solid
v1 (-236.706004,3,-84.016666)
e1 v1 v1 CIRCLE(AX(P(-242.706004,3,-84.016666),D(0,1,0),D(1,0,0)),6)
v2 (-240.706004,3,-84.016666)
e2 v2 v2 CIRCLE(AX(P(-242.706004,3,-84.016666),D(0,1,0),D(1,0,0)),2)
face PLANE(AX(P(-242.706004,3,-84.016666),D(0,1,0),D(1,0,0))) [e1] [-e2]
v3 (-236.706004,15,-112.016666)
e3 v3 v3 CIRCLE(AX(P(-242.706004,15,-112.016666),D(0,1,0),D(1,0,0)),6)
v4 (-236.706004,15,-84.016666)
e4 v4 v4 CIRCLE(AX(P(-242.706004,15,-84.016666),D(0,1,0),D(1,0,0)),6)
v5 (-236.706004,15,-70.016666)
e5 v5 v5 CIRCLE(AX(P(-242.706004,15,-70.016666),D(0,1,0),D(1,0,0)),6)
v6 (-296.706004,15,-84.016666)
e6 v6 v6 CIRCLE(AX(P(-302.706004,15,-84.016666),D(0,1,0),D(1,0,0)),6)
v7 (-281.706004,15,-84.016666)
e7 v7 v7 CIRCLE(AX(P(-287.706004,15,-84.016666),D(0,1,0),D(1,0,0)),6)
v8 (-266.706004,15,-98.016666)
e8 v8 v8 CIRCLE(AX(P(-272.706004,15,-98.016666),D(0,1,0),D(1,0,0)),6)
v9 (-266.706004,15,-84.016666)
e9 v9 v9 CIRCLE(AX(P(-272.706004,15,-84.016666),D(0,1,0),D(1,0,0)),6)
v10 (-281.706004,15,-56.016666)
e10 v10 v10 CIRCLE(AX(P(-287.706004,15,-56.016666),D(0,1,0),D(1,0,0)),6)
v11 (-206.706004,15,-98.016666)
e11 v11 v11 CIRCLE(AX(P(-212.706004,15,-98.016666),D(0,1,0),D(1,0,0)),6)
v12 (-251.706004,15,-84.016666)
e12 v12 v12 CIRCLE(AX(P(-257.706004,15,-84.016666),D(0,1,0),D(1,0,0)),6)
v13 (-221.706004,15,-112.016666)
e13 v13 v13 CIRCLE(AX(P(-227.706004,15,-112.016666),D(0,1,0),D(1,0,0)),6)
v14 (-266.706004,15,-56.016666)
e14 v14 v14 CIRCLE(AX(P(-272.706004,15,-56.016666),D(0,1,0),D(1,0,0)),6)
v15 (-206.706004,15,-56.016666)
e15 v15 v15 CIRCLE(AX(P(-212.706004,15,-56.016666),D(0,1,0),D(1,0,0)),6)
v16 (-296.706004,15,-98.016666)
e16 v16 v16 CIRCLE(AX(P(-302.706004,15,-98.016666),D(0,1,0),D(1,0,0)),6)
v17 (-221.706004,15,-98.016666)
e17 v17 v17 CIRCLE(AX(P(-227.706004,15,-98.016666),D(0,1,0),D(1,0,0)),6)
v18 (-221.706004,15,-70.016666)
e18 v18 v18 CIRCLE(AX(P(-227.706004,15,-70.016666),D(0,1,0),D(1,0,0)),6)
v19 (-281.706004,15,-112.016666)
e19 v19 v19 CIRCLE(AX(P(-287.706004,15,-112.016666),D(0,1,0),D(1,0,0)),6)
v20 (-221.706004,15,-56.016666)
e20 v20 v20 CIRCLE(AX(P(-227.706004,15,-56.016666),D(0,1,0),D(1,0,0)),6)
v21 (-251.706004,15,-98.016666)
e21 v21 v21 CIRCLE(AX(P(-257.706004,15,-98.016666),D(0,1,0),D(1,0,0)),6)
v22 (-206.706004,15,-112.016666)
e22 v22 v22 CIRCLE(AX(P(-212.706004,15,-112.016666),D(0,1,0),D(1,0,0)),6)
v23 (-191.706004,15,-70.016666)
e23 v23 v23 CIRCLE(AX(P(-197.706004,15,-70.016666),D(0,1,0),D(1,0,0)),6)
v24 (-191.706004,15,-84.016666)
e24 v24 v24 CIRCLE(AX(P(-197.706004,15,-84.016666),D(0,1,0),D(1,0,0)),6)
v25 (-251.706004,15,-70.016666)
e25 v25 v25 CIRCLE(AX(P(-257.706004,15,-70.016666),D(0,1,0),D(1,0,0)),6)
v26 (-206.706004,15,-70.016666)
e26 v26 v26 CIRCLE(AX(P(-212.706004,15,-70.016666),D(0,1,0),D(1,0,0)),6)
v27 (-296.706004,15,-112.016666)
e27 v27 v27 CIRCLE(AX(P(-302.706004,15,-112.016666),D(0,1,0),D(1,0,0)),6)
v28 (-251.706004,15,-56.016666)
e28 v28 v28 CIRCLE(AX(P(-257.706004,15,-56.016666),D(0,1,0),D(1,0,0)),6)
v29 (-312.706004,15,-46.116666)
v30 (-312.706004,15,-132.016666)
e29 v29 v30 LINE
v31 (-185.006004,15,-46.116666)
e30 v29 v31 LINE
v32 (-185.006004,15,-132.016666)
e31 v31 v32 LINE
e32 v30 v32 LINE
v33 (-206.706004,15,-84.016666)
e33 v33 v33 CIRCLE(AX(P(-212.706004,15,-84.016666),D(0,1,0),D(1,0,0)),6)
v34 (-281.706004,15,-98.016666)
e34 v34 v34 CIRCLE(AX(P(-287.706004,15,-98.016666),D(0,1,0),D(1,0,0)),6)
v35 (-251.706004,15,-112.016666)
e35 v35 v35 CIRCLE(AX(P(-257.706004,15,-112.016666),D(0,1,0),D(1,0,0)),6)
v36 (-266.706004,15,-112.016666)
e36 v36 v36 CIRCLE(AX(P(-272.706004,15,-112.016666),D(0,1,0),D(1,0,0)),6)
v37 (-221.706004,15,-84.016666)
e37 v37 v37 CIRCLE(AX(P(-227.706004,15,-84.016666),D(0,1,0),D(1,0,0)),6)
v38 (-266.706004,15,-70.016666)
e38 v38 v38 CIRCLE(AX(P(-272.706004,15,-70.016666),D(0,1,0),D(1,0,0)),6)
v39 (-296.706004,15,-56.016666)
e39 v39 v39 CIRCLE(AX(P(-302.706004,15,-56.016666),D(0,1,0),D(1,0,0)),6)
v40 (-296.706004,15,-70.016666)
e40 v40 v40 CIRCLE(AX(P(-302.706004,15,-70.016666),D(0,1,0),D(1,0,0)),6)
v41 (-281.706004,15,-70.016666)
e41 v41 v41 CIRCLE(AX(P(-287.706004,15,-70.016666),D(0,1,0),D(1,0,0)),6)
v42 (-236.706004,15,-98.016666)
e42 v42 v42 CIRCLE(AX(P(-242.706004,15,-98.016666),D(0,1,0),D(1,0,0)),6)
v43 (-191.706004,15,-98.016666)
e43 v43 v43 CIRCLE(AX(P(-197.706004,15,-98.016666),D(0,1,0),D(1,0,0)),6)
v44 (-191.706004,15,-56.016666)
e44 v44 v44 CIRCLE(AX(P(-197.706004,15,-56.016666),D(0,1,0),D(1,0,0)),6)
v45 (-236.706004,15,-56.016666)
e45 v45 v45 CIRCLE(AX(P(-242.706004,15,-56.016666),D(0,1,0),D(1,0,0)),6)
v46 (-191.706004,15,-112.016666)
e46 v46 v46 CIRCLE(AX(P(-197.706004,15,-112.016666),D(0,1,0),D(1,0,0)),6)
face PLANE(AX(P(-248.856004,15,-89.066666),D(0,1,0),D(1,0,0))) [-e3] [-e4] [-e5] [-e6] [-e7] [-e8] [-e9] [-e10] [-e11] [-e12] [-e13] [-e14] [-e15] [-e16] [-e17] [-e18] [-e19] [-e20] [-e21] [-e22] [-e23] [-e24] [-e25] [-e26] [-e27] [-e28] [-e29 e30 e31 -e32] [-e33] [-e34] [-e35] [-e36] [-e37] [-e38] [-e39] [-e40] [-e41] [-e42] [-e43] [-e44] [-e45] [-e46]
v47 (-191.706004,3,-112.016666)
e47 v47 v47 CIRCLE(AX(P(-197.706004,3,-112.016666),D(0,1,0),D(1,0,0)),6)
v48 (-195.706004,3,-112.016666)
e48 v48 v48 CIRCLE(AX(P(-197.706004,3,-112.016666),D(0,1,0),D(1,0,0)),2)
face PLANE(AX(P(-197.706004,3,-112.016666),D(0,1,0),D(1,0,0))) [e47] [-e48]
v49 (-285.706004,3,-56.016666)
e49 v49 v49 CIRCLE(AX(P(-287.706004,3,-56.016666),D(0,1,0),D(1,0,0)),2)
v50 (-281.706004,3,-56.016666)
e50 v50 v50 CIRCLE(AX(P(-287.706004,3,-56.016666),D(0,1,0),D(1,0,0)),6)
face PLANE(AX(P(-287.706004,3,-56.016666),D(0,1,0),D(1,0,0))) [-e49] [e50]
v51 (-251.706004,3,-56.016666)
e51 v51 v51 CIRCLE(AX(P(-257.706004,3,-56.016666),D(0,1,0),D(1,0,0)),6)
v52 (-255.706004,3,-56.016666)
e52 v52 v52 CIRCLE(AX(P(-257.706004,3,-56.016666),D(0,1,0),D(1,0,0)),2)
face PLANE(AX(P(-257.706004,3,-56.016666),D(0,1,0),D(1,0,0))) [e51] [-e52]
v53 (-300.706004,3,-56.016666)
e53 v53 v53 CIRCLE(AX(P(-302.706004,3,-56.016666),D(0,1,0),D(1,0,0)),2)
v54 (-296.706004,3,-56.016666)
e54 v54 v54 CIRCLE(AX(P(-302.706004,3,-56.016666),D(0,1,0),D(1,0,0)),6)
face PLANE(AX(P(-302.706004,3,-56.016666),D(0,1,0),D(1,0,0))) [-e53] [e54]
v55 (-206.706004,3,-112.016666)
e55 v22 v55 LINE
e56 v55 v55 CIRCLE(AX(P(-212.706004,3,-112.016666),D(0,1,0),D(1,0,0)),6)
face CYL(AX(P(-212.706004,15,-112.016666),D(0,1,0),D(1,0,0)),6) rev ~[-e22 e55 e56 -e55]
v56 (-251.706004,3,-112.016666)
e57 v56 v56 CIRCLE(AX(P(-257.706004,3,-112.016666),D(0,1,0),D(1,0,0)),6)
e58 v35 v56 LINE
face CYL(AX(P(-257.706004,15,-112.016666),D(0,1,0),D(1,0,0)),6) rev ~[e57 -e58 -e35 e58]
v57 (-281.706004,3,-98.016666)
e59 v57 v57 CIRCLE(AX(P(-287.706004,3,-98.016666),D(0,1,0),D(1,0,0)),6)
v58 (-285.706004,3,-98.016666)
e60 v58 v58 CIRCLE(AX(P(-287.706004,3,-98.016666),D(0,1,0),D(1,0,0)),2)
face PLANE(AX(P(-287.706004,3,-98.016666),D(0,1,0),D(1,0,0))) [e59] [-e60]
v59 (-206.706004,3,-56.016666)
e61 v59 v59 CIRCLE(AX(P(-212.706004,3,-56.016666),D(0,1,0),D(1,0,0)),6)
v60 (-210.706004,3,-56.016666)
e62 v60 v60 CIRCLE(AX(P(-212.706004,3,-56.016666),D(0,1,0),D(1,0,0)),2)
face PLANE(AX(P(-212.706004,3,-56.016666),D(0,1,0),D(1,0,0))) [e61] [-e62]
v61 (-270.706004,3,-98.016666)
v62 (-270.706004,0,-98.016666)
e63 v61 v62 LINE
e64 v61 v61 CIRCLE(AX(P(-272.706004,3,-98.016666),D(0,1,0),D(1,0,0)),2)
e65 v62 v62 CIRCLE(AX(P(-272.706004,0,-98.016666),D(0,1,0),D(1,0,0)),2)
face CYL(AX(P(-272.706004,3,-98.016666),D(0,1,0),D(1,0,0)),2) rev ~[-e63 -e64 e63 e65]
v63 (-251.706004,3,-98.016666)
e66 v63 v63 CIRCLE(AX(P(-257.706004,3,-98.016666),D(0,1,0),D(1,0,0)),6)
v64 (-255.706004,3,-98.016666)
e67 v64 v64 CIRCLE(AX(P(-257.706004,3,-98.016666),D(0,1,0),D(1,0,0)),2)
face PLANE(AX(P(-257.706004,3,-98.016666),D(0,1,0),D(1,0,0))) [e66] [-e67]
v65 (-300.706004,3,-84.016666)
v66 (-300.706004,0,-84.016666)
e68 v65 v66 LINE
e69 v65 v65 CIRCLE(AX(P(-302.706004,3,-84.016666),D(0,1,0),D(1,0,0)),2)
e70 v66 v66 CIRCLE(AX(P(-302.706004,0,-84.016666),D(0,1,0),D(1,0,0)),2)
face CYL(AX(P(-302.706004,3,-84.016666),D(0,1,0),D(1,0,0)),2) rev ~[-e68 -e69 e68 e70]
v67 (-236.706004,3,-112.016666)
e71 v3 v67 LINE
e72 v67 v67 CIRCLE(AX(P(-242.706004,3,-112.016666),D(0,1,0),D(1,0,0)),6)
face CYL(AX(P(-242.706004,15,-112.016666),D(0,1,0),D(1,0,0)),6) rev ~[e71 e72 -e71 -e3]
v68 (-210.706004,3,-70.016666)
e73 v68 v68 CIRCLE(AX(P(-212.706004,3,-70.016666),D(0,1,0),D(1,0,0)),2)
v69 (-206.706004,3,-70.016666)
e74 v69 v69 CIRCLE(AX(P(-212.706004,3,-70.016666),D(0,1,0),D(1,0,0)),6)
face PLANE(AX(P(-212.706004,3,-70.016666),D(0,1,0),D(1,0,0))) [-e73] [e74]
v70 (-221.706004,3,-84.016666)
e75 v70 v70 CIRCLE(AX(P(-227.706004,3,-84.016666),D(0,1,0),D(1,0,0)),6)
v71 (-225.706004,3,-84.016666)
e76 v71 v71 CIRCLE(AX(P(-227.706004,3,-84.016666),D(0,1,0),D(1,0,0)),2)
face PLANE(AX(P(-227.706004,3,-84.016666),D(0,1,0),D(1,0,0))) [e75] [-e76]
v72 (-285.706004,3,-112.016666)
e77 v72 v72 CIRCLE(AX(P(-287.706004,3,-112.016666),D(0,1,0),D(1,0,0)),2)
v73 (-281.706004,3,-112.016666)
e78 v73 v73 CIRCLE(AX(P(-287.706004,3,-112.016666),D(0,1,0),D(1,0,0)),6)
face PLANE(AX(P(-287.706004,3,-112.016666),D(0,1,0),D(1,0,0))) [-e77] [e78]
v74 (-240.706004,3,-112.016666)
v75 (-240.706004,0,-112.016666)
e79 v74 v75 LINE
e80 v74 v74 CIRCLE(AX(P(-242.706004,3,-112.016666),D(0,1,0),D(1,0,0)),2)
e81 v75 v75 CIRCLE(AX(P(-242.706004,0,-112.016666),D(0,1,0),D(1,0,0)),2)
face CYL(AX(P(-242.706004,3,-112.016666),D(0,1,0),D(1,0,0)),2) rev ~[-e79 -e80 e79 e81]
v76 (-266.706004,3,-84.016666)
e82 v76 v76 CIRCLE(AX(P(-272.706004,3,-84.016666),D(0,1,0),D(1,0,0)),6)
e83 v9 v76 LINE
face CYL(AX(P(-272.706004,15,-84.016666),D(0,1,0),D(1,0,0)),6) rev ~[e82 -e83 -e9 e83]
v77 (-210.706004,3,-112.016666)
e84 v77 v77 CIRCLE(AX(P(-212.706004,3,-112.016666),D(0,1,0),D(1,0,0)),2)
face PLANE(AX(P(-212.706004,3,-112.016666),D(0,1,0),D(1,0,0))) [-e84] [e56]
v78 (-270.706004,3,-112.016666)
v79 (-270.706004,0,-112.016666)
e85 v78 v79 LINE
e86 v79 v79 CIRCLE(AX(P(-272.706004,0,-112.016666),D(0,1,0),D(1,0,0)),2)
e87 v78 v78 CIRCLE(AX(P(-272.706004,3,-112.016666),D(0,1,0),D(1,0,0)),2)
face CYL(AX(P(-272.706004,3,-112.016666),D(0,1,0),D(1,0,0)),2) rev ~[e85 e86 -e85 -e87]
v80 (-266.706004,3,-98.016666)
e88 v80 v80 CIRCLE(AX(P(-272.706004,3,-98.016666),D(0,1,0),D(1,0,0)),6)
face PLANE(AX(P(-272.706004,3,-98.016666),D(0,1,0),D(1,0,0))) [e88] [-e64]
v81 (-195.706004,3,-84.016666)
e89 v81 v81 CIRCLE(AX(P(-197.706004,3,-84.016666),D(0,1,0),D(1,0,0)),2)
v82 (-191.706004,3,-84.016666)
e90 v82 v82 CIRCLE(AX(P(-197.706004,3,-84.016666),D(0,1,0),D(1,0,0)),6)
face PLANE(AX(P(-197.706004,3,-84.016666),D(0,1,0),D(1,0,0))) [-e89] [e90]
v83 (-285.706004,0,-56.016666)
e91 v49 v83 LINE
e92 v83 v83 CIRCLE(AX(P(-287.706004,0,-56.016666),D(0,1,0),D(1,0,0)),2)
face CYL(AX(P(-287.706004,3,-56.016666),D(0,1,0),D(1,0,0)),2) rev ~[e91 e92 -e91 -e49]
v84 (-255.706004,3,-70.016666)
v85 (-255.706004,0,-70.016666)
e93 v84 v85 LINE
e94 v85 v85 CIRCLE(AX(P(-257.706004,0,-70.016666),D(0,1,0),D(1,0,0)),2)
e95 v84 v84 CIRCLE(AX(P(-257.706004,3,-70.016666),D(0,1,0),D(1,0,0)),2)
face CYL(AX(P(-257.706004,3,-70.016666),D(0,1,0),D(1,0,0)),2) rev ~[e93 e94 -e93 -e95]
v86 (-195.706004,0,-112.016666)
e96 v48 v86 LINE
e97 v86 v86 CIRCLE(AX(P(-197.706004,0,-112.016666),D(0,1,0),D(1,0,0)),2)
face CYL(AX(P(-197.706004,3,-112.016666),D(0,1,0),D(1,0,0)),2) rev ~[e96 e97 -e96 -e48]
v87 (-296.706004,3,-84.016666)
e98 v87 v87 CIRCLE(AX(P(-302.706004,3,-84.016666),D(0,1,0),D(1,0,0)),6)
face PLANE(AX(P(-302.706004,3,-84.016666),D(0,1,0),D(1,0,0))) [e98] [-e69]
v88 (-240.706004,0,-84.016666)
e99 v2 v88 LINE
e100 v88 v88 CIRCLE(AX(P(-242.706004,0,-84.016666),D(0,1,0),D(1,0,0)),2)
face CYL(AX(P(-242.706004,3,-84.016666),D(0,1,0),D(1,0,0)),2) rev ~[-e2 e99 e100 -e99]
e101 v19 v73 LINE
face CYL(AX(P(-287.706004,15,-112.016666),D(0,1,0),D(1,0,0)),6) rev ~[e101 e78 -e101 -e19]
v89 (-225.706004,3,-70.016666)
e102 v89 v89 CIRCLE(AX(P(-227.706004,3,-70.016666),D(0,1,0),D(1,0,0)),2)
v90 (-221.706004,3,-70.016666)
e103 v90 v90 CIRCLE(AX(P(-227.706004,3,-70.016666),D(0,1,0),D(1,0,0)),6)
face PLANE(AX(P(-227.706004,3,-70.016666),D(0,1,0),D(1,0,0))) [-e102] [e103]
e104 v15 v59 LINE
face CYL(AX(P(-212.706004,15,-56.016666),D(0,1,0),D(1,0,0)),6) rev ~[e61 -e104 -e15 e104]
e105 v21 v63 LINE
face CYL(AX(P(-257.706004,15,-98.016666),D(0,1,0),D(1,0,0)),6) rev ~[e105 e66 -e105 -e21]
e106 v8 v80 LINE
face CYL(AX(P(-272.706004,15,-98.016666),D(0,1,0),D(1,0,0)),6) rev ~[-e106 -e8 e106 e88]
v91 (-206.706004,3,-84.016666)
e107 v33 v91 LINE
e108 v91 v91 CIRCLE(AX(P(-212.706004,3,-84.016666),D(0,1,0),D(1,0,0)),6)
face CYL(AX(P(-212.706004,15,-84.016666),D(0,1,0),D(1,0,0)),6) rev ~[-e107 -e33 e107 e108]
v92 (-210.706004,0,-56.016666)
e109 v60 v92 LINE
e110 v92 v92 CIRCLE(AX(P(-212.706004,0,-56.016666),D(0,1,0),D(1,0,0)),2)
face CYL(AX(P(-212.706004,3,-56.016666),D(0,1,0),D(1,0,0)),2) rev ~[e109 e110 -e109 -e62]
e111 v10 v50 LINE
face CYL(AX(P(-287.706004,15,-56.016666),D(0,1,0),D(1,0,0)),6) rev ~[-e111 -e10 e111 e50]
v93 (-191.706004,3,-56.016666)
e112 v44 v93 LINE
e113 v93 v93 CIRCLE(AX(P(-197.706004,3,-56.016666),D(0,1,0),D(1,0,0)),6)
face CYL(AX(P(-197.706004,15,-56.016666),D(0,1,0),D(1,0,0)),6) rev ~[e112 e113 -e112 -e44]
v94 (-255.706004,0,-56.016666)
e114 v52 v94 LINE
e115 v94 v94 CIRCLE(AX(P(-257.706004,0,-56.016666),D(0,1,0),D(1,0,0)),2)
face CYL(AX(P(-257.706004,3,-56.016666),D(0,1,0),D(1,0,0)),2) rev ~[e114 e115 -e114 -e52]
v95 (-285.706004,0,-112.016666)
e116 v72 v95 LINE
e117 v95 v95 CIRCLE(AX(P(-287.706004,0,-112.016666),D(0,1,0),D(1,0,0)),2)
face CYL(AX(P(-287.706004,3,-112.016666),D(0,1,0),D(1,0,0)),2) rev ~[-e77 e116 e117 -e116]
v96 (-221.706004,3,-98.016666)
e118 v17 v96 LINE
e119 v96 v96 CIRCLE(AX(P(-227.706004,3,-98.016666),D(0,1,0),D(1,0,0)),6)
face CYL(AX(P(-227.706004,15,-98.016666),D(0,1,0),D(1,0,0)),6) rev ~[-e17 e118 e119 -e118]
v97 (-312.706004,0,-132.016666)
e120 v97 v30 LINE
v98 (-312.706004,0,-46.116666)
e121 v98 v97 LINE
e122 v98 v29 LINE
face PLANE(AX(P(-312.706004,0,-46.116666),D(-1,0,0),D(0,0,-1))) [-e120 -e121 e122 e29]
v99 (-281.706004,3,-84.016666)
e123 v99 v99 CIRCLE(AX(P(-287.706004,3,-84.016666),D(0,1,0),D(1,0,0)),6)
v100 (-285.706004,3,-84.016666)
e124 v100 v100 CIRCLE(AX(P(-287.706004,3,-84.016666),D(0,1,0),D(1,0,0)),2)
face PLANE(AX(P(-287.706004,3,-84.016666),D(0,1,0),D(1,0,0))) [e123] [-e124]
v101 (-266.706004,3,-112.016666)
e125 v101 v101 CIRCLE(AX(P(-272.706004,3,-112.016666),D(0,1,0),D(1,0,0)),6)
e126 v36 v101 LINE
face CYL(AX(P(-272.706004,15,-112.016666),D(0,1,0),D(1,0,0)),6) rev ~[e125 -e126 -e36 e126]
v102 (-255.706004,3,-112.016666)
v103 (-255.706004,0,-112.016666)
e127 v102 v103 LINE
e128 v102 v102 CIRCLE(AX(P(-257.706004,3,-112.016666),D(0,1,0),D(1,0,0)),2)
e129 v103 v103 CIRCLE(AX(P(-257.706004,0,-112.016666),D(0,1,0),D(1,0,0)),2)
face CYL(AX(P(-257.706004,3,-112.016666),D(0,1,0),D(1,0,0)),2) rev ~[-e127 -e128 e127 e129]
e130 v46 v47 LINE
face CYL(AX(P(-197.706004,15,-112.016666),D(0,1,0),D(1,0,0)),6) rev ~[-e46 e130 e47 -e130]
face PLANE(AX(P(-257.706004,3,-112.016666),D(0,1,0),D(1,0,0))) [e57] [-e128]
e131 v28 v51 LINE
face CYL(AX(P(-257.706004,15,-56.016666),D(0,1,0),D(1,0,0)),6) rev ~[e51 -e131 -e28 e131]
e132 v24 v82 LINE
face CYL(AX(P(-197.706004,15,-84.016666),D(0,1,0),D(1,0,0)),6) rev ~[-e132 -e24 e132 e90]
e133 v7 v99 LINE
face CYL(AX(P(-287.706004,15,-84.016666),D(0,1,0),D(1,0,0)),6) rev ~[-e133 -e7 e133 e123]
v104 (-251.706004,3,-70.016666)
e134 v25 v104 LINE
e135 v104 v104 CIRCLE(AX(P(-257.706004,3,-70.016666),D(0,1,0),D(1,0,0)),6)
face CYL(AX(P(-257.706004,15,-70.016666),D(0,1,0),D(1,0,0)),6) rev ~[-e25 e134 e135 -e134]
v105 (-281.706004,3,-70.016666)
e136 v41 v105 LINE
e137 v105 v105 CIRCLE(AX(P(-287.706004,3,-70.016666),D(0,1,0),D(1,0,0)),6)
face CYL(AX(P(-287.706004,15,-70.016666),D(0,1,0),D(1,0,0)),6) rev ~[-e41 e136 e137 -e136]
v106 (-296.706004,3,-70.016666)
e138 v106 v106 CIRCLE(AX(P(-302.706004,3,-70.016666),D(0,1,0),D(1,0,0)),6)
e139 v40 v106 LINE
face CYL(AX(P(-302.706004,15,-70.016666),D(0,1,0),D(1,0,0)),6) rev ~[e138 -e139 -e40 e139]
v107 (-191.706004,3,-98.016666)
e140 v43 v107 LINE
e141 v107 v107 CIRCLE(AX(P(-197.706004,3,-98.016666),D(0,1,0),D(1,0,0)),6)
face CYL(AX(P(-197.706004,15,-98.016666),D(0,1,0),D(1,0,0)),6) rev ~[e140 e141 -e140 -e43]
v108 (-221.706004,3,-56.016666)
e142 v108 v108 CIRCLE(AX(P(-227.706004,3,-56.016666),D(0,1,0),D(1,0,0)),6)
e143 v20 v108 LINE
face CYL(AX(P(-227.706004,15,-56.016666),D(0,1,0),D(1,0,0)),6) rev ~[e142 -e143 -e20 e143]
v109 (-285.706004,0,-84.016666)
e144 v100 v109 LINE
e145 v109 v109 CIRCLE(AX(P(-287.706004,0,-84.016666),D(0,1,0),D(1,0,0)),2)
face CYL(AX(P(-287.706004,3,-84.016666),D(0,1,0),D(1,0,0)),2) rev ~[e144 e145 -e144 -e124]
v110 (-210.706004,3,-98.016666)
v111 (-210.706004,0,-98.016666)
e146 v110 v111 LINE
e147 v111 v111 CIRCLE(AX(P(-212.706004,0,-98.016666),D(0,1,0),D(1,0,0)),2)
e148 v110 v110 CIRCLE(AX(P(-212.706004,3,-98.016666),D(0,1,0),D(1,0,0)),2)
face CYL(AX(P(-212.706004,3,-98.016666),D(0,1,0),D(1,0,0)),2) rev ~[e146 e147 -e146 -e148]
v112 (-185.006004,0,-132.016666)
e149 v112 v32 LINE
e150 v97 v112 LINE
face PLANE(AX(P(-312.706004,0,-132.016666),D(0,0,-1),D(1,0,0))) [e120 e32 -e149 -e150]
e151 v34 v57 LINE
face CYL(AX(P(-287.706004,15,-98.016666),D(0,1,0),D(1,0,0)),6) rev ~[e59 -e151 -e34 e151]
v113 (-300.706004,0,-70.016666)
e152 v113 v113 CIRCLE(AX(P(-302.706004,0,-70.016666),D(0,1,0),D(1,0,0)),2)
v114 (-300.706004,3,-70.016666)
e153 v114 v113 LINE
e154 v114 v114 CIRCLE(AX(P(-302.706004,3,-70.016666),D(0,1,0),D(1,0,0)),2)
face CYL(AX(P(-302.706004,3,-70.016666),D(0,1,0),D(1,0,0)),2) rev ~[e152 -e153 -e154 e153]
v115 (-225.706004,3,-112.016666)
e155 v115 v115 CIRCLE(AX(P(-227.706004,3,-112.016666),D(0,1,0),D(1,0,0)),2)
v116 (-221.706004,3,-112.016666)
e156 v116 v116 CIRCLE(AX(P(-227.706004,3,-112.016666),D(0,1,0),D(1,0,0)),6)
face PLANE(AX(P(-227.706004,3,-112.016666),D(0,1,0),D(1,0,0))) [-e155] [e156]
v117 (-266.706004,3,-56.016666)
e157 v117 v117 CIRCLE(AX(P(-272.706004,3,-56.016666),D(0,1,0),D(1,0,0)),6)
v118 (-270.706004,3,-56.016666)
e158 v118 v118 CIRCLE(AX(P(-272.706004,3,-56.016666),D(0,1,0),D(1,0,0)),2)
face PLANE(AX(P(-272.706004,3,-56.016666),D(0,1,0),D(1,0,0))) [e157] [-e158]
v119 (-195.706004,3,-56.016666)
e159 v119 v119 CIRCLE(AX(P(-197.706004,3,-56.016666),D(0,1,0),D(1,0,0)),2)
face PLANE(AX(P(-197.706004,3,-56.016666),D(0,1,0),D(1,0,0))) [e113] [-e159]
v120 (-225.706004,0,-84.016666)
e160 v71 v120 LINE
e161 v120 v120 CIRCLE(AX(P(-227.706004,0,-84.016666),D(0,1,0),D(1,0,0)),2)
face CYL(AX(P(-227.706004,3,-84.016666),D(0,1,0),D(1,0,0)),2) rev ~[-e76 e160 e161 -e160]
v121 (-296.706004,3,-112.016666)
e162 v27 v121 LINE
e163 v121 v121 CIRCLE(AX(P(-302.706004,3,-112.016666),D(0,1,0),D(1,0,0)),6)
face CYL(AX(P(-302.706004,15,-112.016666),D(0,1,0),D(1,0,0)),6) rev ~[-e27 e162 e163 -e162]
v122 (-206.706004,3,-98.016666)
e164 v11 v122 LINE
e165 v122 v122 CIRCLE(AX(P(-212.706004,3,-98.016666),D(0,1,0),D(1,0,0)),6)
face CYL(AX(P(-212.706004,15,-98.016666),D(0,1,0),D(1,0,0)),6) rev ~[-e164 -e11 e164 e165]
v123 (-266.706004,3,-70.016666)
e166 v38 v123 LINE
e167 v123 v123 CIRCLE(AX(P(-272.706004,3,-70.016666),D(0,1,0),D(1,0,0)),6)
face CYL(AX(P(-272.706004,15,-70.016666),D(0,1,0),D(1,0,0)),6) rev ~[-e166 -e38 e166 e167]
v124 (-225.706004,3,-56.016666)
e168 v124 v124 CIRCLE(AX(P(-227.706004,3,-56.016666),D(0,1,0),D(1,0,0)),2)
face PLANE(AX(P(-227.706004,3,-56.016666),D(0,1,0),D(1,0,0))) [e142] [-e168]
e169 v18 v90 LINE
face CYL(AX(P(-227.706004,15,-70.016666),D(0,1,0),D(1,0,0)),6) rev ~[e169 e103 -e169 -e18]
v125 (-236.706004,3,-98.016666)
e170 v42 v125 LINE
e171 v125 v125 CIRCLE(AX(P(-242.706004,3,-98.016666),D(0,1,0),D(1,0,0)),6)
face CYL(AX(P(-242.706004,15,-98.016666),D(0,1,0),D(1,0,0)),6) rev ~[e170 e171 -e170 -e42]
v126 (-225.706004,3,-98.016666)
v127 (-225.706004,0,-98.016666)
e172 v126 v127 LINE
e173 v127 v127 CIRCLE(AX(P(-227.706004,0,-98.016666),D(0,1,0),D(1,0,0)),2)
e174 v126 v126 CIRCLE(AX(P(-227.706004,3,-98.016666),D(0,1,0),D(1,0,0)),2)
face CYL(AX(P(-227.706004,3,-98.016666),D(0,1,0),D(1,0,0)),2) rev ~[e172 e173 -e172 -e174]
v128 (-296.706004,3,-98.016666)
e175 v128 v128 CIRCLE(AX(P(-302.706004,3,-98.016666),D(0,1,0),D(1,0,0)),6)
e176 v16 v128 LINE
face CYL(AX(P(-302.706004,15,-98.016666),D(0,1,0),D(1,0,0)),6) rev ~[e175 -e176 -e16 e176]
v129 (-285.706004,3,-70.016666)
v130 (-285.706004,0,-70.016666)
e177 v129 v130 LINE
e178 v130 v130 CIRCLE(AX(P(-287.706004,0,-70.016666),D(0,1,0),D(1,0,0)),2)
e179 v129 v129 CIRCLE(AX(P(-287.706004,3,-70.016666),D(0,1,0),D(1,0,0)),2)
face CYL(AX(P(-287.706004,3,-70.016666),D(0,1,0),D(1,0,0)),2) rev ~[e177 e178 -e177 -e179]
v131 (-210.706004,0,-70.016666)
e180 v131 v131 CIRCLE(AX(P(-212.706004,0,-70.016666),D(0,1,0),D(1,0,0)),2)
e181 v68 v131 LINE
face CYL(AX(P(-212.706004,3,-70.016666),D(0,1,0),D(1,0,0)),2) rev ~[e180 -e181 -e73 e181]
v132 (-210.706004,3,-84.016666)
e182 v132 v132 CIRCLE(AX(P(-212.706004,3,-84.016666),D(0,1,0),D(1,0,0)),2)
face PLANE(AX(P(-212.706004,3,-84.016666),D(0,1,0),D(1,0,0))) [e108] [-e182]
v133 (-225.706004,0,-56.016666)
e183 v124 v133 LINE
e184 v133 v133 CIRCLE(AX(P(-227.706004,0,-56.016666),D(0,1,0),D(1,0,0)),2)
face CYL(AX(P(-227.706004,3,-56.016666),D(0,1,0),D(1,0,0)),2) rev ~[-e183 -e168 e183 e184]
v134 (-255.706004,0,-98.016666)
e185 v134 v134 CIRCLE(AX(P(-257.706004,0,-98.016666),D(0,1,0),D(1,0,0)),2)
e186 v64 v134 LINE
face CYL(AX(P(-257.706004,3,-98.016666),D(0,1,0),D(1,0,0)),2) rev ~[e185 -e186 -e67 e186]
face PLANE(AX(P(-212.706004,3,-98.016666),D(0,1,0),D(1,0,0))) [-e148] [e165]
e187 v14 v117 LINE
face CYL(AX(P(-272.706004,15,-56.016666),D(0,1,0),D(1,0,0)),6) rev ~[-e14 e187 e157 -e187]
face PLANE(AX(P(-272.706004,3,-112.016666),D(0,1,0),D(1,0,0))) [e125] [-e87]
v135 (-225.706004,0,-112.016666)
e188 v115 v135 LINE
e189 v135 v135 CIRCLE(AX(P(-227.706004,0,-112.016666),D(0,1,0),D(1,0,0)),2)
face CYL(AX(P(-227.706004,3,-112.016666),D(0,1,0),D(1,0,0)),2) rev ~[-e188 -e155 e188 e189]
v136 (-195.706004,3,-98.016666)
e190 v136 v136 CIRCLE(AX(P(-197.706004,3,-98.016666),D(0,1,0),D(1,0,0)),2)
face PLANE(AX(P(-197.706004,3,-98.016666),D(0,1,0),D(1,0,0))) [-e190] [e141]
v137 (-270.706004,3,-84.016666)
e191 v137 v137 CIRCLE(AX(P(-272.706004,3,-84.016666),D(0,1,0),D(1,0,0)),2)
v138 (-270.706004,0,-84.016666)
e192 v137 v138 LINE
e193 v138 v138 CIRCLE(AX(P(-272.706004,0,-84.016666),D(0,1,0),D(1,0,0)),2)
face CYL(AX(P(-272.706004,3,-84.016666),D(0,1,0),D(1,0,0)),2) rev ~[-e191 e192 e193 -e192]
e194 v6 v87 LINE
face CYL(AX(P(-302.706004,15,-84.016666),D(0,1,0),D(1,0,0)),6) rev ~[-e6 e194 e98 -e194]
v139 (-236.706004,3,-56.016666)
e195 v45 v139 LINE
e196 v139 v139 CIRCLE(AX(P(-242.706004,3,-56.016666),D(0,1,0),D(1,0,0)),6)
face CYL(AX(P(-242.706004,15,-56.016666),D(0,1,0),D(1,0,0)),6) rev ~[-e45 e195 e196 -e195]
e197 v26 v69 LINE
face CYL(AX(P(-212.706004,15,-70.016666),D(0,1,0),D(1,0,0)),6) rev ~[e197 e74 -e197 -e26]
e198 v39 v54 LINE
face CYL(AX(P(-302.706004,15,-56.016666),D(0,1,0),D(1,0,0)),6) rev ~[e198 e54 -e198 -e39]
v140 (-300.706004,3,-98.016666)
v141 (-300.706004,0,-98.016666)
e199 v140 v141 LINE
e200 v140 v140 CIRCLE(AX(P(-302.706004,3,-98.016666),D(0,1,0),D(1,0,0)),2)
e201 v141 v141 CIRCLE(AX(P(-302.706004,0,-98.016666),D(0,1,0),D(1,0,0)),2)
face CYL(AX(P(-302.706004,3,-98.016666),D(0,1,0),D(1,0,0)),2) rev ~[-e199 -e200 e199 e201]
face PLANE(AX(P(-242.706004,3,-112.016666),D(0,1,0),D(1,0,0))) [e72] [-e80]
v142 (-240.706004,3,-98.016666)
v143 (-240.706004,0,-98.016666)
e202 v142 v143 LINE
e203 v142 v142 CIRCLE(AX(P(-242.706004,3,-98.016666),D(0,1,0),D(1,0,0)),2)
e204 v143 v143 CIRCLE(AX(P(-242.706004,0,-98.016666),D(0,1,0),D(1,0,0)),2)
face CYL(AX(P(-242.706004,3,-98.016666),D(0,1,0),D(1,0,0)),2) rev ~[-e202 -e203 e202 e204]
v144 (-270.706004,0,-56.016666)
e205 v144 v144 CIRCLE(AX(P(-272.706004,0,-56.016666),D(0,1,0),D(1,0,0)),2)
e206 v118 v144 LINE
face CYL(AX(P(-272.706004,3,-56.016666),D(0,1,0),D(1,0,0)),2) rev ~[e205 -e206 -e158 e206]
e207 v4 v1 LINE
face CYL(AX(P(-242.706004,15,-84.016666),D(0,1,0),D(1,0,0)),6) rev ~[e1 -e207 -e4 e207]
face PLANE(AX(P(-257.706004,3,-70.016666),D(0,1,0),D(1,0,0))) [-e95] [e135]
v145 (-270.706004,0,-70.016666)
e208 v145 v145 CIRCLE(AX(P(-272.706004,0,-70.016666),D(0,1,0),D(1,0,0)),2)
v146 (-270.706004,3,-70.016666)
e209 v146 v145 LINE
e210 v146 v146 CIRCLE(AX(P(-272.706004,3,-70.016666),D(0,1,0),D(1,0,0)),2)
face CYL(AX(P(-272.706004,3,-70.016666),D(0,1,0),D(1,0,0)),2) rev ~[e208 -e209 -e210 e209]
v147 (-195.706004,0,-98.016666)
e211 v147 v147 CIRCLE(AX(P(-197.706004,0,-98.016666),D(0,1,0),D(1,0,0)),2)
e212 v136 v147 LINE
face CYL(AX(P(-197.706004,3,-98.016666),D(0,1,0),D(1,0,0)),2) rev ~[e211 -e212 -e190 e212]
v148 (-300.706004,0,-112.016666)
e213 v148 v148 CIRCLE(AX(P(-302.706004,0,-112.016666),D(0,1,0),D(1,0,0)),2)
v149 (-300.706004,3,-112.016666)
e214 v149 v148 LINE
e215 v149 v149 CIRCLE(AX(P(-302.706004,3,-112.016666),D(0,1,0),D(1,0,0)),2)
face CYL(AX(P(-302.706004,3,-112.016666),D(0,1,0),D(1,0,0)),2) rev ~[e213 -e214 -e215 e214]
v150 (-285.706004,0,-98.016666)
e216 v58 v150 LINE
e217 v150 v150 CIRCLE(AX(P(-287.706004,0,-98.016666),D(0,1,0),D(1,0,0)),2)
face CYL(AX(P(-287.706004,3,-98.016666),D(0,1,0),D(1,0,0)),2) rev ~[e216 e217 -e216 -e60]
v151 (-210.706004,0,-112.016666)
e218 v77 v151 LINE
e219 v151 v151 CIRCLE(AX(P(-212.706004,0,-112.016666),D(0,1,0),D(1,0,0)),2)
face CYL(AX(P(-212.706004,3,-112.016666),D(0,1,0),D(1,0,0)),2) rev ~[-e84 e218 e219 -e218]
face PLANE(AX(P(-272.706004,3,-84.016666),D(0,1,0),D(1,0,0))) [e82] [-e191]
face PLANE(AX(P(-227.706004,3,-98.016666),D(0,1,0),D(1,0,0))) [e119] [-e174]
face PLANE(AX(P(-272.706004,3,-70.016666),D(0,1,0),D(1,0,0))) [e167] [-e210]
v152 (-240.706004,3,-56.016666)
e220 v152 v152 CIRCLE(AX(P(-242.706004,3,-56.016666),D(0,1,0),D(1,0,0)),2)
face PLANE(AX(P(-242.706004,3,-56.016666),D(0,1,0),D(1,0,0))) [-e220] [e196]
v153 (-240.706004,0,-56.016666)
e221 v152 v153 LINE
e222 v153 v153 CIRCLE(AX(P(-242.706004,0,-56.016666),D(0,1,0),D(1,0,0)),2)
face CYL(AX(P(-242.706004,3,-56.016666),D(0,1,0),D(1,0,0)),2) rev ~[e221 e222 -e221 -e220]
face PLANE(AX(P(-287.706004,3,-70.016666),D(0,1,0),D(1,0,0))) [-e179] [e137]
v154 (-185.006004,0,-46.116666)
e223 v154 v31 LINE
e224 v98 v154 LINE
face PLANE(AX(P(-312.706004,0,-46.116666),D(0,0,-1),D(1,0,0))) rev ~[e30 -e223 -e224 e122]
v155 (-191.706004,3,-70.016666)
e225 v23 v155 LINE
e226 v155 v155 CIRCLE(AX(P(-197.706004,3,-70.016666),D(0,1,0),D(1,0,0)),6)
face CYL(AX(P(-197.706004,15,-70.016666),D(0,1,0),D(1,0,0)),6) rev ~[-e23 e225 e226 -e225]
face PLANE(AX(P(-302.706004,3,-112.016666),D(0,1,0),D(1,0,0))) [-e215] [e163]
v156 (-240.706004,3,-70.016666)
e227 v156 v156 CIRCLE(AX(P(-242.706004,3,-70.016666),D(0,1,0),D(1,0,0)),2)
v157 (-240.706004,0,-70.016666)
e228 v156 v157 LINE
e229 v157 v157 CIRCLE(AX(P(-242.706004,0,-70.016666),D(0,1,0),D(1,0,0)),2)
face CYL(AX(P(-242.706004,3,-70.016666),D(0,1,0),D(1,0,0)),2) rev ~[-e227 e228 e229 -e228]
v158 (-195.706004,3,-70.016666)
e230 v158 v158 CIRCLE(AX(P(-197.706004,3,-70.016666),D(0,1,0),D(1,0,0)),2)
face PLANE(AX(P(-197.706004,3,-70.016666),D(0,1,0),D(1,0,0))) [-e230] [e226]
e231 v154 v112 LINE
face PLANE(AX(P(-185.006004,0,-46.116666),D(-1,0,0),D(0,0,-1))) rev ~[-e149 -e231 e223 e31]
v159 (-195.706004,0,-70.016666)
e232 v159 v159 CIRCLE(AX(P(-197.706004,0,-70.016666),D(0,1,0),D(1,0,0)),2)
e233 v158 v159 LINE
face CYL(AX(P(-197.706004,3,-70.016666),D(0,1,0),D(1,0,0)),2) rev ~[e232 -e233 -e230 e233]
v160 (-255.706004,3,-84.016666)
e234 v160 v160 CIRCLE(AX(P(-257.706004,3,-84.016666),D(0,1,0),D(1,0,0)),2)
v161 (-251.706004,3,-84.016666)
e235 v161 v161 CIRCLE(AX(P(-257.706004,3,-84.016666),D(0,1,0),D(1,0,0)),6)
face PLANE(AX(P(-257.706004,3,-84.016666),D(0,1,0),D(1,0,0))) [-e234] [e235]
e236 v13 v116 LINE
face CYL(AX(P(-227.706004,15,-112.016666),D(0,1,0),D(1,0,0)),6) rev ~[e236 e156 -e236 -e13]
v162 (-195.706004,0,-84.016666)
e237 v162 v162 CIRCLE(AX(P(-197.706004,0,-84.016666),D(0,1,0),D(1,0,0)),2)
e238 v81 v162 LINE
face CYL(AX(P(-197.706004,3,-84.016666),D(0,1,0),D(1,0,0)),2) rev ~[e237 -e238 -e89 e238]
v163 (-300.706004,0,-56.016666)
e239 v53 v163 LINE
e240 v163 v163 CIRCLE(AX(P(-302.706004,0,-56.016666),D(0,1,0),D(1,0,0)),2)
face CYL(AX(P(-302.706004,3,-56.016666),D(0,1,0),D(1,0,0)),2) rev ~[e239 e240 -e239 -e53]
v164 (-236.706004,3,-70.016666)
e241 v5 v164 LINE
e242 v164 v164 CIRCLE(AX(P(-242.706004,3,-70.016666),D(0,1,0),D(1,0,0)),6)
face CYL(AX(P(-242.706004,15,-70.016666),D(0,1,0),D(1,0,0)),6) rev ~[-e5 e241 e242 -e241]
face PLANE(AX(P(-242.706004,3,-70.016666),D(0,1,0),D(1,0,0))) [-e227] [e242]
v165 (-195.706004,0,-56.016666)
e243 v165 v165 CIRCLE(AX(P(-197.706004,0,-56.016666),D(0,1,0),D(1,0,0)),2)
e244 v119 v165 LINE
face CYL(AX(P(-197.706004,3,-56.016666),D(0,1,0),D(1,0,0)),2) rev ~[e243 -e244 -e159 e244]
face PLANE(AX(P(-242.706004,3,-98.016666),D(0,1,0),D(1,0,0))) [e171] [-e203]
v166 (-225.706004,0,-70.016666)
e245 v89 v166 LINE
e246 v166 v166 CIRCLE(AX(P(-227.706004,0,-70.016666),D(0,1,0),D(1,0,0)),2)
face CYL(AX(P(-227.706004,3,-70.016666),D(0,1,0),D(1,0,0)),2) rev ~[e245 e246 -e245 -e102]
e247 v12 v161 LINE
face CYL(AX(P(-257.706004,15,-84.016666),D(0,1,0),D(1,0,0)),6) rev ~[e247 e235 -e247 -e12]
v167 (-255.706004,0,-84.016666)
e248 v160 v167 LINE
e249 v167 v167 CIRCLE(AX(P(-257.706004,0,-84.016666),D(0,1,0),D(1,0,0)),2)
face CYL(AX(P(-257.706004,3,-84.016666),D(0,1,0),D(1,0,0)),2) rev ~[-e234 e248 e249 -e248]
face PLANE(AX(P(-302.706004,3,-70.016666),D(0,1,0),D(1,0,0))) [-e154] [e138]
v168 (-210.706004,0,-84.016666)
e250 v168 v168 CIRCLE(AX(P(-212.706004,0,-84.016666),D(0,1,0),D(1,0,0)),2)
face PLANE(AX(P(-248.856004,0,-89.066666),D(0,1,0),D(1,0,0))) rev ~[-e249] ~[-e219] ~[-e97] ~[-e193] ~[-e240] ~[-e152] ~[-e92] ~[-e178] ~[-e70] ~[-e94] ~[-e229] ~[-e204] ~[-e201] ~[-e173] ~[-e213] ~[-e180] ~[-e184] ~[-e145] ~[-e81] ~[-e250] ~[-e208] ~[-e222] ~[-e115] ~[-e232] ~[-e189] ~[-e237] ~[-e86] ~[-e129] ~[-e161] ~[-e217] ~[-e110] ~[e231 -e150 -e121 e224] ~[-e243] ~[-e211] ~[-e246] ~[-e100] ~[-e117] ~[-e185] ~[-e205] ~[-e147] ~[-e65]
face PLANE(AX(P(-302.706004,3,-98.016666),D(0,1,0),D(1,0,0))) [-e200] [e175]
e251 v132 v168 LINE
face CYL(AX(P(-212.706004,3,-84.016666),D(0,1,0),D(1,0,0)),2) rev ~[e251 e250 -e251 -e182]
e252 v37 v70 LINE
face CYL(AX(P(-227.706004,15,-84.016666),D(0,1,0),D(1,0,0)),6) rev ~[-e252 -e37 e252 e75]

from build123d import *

# Parameters (mm, degrees)
SKETCH1_W            = 127.7
SKETCH1_H            = 85.9
BOSS_EXTRUDE1_DEPTH  = 15
SKETCH2_R            = 6
CUT_EXTRUDE1_DEPTH   = 12
LPATTERN3_COUNT      = 8
LPATTERN3_PITCH      = 15
LPATTERN3_COUNT_DIR2 = 5
LPATTERN3_PITCH_DIR2 = 14
SKETCH3_R            = 2
CUT_EXTRUDE2_DEPTH   = 12
LPATTERN4_COUNT      = 8
LPATTERN4_PITCH      = 15
LPATTERN4_COUNT_DIR2 = 5
LPATTERN4_PITCH_DIR2 = 14


with BuildPart() as part:
    # Sketch1 → Boss-Extrude1 (new body)
    with BuildSketch(Plane(origin=(0, 0, 0), x_dir=(1, 0, 0), z_dir=(0, 1, 0))):
        with Locations((-248.856003869, 89.066665881)):
            Rectangle(SKETCH1_W, SKETCH1_H)
    extrude(amount=BOSS_EXTRUDE1_DEPTH)

    # Sketch2 → Cut-Extrude1 (cut)
    with BuildSketch(Plane(origin=(0, 15, 0), x_dir=(1, 0, 0), z_dir=(0, 1, 0))):
        with Locations((-302.706003869, 112.016665881)):
            Circle(SKETCH2_R)
    cut_extrude1 = extrude(amount=-CUT_EXTRUDE1_DEPTH, mode=Mode.SUBTRACT)

    # LPattern3: Cut-Extrude1 8 × 5
    with Locations(*[(i * LPATTERN3_PITCH, 0, j * LPATTERN3_PITCH_DIR2) for i in range(LPATTERN3_COUNT) for j in range(LPATTERN3_COUNT_DIR2) if (i, j) != (0, 0)]):
        add(cut_extrude1, mode=Mode.SUBTRACT)

    # Sketch3 → Cut-Extrude2 (cut)
    with BuildSketch(Plane(origin=(0, 3, 0), x_dir=(1, 0, 0), z_dir=(0, 1, 0))):
        with Locations((-302.706003869, 112.016665881)):
            Circle(SKETCH3_R)
    cut_extrude2 = extrude(amount=-CUT_EXTRUDE2_DEPTH, mode=Mode.SUBTRACT)

    # LPattern4: Cut-Extrude2 8 × 5
    with Locations(*[(i * LPATTERN4_PITCH, 0, j * LPATTERN4_PITCH_DIR2) for i in range(LPATTERN4_COUNT) for j in range(LPATTERN4_COUNT_DIR2) if (i, j) != (0, 0)]):
        add(cut_extrude2, mode=Mode.SUBTRACT)


solid = part.part
